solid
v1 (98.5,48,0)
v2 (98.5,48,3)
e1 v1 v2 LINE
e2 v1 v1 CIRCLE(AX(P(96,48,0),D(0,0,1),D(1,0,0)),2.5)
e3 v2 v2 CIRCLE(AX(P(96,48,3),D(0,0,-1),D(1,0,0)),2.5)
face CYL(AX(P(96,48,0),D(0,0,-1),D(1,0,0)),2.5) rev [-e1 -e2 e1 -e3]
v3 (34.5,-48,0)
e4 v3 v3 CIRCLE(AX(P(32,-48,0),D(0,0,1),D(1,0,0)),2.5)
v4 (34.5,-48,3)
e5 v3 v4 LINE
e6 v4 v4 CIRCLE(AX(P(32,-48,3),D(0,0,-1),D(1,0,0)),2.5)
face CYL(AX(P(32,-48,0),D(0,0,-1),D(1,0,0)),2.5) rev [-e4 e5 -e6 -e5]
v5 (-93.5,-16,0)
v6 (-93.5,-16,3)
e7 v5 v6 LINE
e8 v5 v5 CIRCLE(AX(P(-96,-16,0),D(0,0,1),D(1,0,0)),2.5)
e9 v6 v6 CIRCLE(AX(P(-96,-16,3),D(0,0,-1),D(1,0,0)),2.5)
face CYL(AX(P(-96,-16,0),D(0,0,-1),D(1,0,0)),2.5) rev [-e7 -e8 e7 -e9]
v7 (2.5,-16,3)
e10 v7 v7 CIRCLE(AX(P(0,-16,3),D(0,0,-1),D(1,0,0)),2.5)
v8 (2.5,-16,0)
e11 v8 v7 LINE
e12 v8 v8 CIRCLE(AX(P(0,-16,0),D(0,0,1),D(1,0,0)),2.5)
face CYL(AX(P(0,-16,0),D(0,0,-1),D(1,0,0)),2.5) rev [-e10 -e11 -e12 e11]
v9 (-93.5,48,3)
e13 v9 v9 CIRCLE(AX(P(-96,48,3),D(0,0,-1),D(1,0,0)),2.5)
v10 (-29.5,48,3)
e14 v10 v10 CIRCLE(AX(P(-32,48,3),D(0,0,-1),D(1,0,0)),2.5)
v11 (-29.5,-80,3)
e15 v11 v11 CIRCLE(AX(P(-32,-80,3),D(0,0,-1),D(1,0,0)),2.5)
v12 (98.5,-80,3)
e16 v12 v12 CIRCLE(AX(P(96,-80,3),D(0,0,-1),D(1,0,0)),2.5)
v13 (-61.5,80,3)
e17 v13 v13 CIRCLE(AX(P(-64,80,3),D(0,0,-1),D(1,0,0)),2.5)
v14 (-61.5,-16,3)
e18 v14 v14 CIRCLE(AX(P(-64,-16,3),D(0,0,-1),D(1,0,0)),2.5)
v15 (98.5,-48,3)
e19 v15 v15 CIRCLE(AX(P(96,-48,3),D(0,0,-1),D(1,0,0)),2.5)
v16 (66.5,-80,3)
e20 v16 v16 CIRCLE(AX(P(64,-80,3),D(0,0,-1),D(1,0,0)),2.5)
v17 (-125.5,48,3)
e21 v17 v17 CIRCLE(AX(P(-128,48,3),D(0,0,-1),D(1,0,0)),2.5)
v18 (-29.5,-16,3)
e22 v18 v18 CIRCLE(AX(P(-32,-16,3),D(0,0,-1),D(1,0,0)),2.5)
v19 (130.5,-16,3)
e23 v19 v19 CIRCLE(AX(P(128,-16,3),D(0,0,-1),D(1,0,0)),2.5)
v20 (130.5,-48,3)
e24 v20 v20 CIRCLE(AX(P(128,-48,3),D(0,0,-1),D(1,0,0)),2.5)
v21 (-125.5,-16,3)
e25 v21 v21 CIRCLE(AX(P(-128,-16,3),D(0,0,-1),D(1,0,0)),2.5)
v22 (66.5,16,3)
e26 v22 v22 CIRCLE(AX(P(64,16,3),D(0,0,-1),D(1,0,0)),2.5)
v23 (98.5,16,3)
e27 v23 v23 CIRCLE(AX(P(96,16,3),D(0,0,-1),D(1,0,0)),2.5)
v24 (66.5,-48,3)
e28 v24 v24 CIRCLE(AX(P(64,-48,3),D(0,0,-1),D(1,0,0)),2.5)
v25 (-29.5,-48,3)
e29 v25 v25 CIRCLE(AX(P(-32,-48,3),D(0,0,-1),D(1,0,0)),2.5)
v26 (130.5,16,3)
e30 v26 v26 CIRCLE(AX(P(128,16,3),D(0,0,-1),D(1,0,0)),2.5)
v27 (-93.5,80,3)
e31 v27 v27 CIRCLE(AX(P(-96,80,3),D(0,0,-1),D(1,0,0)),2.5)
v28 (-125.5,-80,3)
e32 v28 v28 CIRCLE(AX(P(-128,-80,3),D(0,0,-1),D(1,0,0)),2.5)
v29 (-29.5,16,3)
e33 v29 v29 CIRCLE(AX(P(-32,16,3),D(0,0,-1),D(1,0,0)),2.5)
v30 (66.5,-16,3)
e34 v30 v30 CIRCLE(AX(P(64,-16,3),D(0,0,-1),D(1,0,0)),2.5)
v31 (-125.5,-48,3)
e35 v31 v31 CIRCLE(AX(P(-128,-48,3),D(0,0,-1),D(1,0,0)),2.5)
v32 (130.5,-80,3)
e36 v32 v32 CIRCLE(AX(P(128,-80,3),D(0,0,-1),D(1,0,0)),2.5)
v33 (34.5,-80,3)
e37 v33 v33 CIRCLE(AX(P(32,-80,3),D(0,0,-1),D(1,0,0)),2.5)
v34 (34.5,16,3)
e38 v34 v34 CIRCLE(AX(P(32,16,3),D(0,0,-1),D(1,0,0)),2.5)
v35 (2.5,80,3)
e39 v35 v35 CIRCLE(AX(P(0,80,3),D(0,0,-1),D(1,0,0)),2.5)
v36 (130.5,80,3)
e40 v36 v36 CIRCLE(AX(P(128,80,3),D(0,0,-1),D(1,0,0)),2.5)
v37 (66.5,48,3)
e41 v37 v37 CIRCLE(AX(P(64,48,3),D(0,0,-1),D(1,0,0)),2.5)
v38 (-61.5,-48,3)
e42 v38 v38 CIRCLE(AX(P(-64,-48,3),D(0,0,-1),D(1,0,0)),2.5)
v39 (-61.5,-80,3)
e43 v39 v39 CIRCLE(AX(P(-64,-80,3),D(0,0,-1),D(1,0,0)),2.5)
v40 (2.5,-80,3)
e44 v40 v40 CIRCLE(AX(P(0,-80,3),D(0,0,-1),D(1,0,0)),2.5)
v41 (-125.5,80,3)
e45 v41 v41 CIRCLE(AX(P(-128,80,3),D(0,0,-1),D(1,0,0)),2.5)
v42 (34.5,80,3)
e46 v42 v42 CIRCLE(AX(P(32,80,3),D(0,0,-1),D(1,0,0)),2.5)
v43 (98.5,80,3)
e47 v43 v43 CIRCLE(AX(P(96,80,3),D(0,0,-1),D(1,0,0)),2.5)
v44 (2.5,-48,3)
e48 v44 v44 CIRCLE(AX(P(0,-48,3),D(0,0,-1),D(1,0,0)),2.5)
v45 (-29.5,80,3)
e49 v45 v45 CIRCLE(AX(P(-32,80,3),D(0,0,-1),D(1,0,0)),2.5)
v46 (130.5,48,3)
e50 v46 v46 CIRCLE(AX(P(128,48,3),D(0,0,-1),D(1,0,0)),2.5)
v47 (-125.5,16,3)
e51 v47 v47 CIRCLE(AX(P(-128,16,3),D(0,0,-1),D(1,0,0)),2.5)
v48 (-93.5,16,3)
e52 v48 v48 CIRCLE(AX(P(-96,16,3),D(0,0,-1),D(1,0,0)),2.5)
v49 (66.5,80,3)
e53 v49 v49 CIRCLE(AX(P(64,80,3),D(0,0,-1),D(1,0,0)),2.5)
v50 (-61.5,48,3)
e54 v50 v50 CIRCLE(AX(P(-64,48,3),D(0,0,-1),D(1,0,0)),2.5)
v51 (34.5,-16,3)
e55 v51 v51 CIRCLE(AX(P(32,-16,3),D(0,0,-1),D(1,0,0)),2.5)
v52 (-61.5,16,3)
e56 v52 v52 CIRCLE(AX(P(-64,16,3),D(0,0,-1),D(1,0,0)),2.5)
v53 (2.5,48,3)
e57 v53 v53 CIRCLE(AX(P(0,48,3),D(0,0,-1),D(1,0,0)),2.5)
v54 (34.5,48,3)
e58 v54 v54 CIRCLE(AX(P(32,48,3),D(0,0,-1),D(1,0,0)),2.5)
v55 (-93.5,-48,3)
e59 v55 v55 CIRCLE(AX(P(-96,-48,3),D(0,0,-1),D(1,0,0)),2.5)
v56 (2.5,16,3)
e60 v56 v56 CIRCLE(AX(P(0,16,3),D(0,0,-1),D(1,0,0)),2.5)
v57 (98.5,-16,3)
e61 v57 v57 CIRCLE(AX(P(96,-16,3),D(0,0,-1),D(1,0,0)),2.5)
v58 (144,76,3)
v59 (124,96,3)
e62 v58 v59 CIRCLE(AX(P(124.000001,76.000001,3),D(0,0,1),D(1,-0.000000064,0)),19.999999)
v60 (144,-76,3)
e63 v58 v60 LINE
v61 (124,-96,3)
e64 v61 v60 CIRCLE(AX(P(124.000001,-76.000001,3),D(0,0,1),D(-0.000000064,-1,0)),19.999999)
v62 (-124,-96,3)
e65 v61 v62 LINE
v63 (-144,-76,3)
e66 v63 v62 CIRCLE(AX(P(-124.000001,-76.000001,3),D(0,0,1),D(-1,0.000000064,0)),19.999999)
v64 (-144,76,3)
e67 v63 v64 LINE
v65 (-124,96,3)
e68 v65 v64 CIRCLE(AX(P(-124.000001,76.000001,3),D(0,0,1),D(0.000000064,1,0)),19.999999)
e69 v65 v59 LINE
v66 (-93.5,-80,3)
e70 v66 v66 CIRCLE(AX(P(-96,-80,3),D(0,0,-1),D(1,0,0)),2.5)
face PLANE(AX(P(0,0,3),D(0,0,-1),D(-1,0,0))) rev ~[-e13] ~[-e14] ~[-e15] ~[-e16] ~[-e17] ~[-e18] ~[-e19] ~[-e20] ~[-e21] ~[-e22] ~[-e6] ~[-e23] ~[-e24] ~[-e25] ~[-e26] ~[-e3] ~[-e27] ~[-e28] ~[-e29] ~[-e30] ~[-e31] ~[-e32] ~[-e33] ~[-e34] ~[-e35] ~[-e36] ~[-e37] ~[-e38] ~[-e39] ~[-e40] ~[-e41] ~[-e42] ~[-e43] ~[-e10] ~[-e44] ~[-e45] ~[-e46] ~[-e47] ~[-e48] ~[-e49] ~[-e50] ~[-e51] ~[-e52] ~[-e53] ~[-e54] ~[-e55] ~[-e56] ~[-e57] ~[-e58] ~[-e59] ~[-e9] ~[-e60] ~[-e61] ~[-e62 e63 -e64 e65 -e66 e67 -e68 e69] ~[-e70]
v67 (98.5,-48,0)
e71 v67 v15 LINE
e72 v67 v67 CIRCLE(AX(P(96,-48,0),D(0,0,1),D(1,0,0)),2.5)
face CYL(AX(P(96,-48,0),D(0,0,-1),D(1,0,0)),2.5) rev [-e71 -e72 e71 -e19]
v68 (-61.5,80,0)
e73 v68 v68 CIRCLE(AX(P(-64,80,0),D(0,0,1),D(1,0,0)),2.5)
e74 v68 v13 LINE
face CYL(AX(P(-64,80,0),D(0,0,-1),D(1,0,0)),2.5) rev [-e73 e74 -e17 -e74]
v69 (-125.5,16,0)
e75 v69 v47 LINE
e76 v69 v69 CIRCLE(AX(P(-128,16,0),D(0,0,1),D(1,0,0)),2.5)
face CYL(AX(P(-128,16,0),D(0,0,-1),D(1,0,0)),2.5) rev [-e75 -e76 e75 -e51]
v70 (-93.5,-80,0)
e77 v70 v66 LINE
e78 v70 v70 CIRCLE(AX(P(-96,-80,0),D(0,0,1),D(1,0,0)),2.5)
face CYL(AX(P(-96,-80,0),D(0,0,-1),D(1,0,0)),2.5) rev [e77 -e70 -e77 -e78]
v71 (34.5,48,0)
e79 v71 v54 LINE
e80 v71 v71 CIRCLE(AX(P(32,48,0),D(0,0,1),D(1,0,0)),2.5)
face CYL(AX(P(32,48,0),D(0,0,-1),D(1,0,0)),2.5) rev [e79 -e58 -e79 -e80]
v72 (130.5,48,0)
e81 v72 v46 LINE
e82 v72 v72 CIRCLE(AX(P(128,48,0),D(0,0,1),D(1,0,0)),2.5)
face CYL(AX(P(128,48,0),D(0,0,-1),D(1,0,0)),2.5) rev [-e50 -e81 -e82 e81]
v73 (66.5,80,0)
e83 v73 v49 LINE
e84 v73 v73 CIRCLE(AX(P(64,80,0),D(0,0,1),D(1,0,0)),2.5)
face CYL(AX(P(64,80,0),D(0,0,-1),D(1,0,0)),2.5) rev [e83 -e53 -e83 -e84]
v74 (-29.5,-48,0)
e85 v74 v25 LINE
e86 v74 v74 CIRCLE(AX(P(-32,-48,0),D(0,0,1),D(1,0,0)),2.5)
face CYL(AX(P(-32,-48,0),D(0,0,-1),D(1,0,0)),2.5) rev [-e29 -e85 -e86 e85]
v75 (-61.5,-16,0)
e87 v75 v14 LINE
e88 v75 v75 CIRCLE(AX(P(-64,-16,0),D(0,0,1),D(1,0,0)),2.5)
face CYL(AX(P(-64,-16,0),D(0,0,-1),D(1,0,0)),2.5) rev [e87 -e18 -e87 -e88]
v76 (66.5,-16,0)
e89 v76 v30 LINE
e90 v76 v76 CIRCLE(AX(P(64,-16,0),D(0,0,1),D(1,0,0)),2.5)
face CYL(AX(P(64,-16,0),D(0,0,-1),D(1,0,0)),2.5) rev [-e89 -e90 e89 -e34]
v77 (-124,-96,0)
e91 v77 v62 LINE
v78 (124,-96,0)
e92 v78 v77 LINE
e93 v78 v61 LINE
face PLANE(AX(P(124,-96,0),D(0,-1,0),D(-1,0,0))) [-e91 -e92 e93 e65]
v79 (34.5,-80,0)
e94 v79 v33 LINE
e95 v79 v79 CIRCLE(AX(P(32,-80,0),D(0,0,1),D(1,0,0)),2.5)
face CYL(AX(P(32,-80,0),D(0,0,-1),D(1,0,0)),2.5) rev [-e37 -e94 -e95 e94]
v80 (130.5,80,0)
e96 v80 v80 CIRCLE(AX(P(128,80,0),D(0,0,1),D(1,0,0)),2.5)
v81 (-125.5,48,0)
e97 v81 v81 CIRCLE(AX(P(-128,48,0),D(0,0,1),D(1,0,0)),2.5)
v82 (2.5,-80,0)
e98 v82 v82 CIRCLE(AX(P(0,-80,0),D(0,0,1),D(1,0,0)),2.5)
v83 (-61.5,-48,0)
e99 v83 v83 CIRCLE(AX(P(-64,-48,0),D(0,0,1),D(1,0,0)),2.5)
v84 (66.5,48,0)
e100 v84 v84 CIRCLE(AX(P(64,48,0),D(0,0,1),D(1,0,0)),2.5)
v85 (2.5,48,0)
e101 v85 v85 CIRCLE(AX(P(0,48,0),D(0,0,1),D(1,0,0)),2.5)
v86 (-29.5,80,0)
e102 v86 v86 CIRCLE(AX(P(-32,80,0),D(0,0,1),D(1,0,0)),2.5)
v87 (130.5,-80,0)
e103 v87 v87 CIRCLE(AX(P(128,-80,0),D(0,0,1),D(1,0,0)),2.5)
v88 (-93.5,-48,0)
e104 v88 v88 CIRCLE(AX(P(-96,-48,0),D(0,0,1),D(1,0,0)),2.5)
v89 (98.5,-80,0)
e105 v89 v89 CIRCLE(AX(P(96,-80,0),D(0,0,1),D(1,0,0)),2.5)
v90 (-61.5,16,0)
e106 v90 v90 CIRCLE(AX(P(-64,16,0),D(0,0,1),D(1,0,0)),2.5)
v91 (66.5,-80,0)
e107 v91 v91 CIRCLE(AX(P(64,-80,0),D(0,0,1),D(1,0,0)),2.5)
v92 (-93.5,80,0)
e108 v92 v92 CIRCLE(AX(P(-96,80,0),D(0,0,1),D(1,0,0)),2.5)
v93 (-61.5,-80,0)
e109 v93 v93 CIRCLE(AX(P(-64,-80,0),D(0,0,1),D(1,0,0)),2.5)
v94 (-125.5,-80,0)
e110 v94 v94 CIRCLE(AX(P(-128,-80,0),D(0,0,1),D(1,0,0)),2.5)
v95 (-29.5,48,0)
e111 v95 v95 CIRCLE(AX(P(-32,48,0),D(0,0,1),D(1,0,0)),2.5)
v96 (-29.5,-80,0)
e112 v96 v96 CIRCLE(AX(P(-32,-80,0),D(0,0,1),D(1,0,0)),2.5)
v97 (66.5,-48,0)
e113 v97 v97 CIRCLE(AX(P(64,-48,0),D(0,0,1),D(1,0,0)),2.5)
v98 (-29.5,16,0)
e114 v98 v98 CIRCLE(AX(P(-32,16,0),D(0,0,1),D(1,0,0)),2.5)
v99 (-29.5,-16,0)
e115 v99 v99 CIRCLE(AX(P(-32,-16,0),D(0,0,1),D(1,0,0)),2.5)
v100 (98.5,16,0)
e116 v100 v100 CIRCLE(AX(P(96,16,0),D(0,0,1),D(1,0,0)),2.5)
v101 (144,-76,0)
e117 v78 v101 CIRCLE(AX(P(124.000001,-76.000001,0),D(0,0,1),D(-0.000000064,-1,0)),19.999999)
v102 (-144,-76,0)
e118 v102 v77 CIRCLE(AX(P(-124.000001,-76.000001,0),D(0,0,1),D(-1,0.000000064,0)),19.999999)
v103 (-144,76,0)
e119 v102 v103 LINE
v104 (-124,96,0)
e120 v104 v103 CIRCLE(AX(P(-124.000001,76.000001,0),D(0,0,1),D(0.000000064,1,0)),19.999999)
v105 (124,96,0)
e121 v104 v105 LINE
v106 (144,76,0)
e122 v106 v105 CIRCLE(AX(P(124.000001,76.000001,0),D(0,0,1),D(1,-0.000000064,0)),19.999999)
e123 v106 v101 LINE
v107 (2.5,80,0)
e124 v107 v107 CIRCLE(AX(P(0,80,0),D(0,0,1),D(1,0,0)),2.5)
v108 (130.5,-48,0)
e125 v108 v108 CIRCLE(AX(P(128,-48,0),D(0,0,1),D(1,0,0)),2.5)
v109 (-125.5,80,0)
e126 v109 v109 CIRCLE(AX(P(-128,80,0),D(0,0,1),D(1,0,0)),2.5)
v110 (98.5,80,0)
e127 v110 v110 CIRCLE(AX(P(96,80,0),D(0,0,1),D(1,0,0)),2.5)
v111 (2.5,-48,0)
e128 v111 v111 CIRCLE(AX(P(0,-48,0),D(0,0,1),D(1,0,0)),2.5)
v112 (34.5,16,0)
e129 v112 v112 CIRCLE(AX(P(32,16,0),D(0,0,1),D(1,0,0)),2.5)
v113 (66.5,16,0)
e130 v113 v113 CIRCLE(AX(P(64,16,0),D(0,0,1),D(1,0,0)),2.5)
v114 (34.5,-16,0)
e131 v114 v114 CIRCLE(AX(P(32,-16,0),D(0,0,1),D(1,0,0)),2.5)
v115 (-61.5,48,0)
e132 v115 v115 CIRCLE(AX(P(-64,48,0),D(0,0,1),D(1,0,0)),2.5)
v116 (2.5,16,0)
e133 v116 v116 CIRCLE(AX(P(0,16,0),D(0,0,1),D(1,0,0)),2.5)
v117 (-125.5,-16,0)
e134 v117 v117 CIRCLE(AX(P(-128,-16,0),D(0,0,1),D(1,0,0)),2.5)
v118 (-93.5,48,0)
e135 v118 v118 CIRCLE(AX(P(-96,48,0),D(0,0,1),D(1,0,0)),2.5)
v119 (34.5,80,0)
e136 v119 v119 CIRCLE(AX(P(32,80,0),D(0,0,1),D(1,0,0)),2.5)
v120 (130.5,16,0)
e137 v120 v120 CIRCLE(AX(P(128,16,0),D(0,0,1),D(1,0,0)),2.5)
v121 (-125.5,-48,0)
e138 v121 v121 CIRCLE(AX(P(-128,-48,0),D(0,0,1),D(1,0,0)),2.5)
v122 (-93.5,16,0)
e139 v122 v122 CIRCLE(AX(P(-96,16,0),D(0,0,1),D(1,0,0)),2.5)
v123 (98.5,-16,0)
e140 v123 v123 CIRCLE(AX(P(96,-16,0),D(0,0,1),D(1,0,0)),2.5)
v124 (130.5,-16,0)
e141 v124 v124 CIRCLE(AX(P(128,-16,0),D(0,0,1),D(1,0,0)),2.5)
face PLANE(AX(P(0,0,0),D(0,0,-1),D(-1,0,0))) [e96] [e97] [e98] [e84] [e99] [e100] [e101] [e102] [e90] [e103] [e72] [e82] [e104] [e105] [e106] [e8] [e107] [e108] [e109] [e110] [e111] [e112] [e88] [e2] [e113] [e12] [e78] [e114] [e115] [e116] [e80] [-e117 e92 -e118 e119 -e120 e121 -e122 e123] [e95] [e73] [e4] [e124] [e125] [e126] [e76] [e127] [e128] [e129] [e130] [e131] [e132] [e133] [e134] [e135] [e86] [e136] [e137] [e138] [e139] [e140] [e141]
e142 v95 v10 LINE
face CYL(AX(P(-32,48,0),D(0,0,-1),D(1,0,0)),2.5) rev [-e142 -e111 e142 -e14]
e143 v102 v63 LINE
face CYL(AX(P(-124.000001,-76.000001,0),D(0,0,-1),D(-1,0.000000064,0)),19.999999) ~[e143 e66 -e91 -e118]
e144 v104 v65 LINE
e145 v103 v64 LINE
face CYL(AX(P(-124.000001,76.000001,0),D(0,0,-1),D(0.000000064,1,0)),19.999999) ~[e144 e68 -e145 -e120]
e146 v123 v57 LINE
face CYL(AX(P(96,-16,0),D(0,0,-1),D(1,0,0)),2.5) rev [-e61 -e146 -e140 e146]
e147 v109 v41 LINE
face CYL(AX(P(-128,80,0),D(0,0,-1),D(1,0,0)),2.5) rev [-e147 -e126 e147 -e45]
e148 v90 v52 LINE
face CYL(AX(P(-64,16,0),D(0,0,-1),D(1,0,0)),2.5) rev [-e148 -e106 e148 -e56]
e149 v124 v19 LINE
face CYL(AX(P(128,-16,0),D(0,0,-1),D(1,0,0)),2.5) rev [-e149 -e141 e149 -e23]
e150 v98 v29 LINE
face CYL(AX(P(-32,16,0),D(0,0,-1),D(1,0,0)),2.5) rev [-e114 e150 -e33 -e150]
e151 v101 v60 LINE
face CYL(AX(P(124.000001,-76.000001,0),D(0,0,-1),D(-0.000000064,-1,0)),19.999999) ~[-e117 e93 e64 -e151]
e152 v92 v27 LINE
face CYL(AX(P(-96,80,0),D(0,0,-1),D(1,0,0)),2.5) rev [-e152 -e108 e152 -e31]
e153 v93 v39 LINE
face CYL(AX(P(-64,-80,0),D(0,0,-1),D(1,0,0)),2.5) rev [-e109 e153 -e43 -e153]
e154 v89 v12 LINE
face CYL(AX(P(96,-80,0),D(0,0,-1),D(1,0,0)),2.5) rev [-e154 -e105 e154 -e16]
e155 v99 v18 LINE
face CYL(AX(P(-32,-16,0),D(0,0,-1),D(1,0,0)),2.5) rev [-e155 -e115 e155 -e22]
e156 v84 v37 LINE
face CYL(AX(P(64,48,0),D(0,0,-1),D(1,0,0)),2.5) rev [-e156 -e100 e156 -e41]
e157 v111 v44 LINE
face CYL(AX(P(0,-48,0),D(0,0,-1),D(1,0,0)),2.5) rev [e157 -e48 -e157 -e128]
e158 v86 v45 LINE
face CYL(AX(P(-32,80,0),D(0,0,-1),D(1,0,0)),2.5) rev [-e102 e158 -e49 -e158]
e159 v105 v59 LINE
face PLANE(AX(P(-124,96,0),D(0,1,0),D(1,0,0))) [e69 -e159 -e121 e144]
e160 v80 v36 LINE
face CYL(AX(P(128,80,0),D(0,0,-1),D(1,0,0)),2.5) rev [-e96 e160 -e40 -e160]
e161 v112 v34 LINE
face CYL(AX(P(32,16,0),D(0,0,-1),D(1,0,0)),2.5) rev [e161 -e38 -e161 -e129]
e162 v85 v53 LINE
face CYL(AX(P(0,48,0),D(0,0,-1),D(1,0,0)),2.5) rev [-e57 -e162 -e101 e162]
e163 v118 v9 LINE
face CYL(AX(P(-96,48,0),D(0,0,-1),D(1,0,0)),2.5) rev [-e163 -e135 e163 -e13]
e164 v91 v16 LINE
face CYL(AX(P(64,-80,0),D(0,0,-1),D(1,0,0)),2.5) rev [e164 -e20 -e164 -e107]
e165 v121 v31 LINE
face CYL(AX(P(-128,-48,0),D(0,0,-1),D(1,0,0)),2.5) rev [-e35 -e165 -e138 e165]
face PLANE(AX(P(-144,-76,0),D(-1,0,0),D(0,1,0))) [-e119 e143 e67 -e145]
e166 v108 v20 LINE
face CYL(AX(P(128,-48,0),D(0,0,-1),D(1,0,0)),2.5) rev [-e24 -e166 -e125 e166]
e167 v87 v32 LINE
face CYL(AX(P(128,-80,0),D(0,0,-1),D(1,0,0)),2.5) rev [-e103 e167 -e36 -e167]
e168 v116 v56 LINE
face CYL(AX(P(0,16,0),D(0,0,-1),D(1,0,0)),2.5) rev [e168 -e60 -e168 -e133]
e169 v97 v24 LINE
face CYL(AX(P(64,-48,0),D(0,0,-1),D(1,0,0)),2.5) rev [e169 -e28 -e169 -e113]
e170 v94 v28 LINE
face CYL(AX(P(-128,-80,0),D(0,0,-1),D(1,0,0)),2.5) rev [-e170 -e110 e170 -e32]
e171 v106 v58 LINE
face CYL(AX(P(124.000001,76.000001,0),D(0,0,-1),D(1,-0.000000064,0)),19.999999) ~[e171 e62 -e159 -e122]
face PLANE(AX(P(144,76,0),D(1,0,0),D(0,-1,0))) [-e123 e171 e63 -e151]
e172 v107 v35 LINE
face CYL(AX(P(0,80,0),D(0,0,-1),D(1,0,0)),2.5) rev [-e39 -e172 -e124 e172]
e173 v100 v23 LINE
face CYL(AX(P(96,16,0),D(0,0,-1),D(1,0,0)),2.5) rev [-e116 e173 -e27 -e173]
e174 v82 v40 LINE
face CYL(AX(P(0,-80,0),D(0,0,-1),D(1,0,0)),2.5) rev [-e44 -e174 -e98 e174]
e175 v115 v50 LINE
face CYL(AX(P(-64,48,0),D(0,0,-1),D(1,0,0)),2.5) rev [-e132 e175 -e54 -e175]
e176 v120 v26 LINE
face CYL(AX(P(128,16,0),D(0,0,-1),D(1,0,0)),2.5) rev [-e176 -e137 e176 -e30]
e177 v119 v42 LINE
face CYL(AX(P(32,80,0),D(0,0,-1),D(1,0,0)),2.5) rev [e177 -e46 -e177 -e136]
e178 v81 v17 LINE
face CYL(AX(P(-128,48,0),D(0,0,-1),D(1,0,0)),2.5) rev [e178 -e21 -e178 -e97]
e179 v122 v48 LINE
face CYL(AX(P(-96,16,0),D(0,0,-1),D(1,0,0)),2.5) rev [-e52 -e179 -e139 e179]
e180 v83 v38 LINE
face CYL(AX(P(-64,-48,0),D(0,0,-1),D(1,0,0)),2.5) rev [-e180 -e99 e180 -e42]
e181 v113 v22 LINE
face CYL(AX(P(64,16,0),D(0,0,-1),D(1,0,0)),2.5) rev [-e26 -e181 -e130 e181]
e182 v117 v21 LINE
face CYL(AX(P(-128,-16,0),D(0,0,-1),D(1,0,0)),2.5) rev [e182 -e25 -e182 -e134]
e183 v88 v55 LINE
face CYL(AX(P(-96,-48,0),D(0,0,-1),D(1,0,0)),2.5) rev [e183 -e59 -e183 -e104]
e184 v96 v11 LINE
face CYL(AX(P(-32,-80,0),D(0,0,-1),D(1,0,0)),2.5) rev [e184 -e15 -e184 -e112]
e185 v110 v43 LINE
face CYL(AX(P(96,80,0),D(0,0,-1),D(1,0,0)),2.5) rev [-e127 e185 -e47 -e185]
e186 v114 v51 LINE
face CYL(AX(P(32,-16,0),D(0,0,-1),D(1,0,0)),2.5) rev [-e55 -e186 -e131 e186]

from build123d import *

# Parameters (mm, degrees)
PAD_DEPTH                   = 3
SKETCH001_R                 = 2.5
HOLE_DEPTH                  = 695.292846
SKETCH001_LINEARPATTERN_2_R = 2.5
HOLE_LINEARPATTERN_2_DEPTH  = 695.292846
SKETCH001_LINEARPATTERN_3_R = 2.5
HOLE_LINEARPATTERN_3_DEPTH  = 695.292846
SKETCH001_LINEARPATTERN_4_R = 2.5
HOLE_LINEARPATTERN_4_DEPTH  = 695.292846
SKETCH001_LINEARPATTERN_5_R = 2.5
HOLE_LINEARPATTERN_5_DEPTH  = 695.292846
SKETCH001_LINEARPATTERN_6_R = 2.5
HOLE_LINEARPATTERN_6_DEPTH  = 695.292846
SKETCH001_LINEARPATTERN_7_R = 2.5
HOLE_LINEARPATTERN_7_DEPTH  = 695.292846
SKETCH001_LINEARPATTERN_8_R = 2.5
HOLE_LINEARPATTERN_8_DEPTH  = 695.292846
SKETCH001_LINEARPATTERN_9_R = 2.5
HOLE_LINEARPATTERN_9_DEPTH  = 695.292846
LINEARPATTERN001_COUNT      = 6
LINEARPATTERN001_PITCH      = 32


with BuildPart() as part:
    # Sketch → Pad (new body)
    with BuildSketch(Plane.XY):
        with BuildLine():
            Line((-124, 96), (124, 96))
            ThreePointArc((144, 76), (138.142136, 90.142136), (124, 96))
            Line((144, 76), (144, -76))
            ThreePointArc((124, -96), (138.142136, -90.142136), (144, -76))
            Line((124, -96), (-124, -96))
            ThreePointArc((-144, -76), (-138.142136, -90.142136), (-124, -96))
            Line((-144, -76), (-144, 76))
            ThreePointArc((-124, 96), (-138.142136, 90.142136), (-144, 76))
        make_face()
    extrude(amount=PAD_DEPTH)

    # Sketch001 → Hole (cut, through all)
    with BuildSketch(Plane.XY):
        with Locations((128, 80)):
            Circle(SKETCH001_R)
    hole = extrude(amount=HOLE_DEPTH, mode=Mode.SUBTRACT)

    # Sketch001 LinearPattern 2 → Hole LinearPattern 2 (cut, through all)
    with BuildSketch(Plane(origin=(-32, 0, 0), x_dir=(1, 0, 0), z_dir=(0, 0, 1))):
        with Locations((128, 80)):
            Circle(SKETCH001_LINEARPATTERN_2_R)
    hole_linearpattern_2 = extrude(amount=HOLE_LINEARPATTERN_2_DEPTH, mode=Mode.SUBTRACT)

    # Sketch001 LinearPattern 3 → Hole LinearPattern 3 (cut, through all)
    with BuildSketch(Plane(origin=(-64, 0, 0), x_dir=(1, 0, 0), z_dir=(0, 0, 1))):
        with Locations((128, 80)):
            Circle(SKETCH001_LINEARPATTERN_3_R)
    hole_linearpattern_3 = extrude(amount=HOLE_LINEARPATTERN_3_DEPTH, mode=Mode.SUBTRACT)

    # Sketch001 LinearPattern 4 → Hole LinearPattern 4 (cut, through all)
    with BuildSketch(Plane(origin=(-96, 0, 0), x_dir=(1, 0, 0), z_dir=(0, 0, 1))):
        with Locations((128, 80)):
            Circle(SKETCH001_LINEARPATTERN_4_R)
    hole_linearpattern_4 = extrude(amount=HOLE_LINEARPATTERN_4_DEPTH, mode=Mode.SUBTRACT)

    # Sketch001 LinearPattern 5 → Hole LinearPattern 5 (cut, through all)
    with BuildSketch(Plane(origin=(-128, 0, 0), x_dir=(1, 0, 0), z_dir=(0, 0, 1))):
        with Locations((128, 80)):
            Circle(SKETCH001_LINEARPATTERN_5_R)
    hole_linearpattern_5 = extrude(amount=HOLE_LINEARPATTERN_5_DEPTH, mode=Mode.SUBTRACT)

    # Sketch001 LinearPattern 6 → Hole LinearPattern 6 (cut, through all)
    with BuildSketch(Plane(origin=(-160, 0, 0), x_dir=(1, 0, 0), z_dir=(0, 0, 1))):
        with Locations((128, 80)):
            Circle(SKETCH001_LINEARPATTERN_6_R)
    hole_linearpattern_6 = extrude(amount=HOLE_LINEARPATTERN_6_DEPTH, mode=Mode.SUBTRACT)

    # Sketch001 LinearPattern 7 → Hole LinearPattern 7 (cut, through all)
    with BuildSketch(Plane(origin=(-192, 0, 0), x_dir=(1, 0, 0), z_dir=(0, 0, 1))):
        with Locations((128, 80)):
            Circle(SKETCH001_LINEARPATTERN_7_R)
    hole_linearpattern_7 = extrude(amount=HOLE_LINEARPATTERN_7_DEPTH, mode=Mode.SUBTRACT)

    # Sketch001 LinearPattern 8 → Hole LinearPattern 8 (cut, through all)
    with BuildSketch(Plane(origin=(-224, 0, 0), x_dir=(1, 0, 0), z_dir=(0, 0, 1))):
        with Locations((128, 80)):
            Circle(SKETCH001_LINEARPATTERN_8_R)
    hole_linearpattern_8 = extrude(amount=HOLE_LINEARPATTERN_8_DEPTH, mode=Mode.SUBTRACT)

    # Sketch001 LinearPattern 9 → Hole LinearPattern 9 (cut, through all)
    with BuildSketch(Plane(origin=(-256, 0, 0), x_dir=(1, 0, 0), z_dir=(0, 0, 1))):
        with Locations((128, 80)):
            Circle(SKETCH001_LINEARPATTERN_9_R)
    hole_linearpattern_9 = extrude(amount=HOLE_LINEARPATTERN_9_DEPTH, mode=Mode.SUBTRACT)

    # LinearPattern001: Hole, Hole LinearPattern 2, Hole LinearPattern 3, Hole LinearPattern 4, Hole LinearPattern 5, Hole LinearPattern 6, Hole LinearPattern 7, Hole LinearPattern 8, Hole LinearPattern 9 ×6
    with Locations(*[(0, -i * LINEARPATTERN001_PITCH, 0) for i in range(1, LINEARPATTERN001_COUNT)]):
        add(hole, mode=Mode.SUBTRACT)
        add(hole_linearpattern_2, mode=Mode.SUBTRACT)
        add(hole_linearpattern_3, mode=Mode.SUBTRACT)
        add(hole_linearpattern_4, mode=Mode.SUBTRACT)
        add(hole_linearpattern_5, mode=Mode.SUBTRACT)
        add(hole_linearpattern_6, mode=Mode.SUBTRACT)
        add(hole_linearpattern_7, mode=Mode.SUBTRACT)
        add(hole_linearpattern_8, mode=Mode.SUBTRACT)
        add(hole_linearpattern_9, mode=Mode.SUBTRACT)


solid = part.part
